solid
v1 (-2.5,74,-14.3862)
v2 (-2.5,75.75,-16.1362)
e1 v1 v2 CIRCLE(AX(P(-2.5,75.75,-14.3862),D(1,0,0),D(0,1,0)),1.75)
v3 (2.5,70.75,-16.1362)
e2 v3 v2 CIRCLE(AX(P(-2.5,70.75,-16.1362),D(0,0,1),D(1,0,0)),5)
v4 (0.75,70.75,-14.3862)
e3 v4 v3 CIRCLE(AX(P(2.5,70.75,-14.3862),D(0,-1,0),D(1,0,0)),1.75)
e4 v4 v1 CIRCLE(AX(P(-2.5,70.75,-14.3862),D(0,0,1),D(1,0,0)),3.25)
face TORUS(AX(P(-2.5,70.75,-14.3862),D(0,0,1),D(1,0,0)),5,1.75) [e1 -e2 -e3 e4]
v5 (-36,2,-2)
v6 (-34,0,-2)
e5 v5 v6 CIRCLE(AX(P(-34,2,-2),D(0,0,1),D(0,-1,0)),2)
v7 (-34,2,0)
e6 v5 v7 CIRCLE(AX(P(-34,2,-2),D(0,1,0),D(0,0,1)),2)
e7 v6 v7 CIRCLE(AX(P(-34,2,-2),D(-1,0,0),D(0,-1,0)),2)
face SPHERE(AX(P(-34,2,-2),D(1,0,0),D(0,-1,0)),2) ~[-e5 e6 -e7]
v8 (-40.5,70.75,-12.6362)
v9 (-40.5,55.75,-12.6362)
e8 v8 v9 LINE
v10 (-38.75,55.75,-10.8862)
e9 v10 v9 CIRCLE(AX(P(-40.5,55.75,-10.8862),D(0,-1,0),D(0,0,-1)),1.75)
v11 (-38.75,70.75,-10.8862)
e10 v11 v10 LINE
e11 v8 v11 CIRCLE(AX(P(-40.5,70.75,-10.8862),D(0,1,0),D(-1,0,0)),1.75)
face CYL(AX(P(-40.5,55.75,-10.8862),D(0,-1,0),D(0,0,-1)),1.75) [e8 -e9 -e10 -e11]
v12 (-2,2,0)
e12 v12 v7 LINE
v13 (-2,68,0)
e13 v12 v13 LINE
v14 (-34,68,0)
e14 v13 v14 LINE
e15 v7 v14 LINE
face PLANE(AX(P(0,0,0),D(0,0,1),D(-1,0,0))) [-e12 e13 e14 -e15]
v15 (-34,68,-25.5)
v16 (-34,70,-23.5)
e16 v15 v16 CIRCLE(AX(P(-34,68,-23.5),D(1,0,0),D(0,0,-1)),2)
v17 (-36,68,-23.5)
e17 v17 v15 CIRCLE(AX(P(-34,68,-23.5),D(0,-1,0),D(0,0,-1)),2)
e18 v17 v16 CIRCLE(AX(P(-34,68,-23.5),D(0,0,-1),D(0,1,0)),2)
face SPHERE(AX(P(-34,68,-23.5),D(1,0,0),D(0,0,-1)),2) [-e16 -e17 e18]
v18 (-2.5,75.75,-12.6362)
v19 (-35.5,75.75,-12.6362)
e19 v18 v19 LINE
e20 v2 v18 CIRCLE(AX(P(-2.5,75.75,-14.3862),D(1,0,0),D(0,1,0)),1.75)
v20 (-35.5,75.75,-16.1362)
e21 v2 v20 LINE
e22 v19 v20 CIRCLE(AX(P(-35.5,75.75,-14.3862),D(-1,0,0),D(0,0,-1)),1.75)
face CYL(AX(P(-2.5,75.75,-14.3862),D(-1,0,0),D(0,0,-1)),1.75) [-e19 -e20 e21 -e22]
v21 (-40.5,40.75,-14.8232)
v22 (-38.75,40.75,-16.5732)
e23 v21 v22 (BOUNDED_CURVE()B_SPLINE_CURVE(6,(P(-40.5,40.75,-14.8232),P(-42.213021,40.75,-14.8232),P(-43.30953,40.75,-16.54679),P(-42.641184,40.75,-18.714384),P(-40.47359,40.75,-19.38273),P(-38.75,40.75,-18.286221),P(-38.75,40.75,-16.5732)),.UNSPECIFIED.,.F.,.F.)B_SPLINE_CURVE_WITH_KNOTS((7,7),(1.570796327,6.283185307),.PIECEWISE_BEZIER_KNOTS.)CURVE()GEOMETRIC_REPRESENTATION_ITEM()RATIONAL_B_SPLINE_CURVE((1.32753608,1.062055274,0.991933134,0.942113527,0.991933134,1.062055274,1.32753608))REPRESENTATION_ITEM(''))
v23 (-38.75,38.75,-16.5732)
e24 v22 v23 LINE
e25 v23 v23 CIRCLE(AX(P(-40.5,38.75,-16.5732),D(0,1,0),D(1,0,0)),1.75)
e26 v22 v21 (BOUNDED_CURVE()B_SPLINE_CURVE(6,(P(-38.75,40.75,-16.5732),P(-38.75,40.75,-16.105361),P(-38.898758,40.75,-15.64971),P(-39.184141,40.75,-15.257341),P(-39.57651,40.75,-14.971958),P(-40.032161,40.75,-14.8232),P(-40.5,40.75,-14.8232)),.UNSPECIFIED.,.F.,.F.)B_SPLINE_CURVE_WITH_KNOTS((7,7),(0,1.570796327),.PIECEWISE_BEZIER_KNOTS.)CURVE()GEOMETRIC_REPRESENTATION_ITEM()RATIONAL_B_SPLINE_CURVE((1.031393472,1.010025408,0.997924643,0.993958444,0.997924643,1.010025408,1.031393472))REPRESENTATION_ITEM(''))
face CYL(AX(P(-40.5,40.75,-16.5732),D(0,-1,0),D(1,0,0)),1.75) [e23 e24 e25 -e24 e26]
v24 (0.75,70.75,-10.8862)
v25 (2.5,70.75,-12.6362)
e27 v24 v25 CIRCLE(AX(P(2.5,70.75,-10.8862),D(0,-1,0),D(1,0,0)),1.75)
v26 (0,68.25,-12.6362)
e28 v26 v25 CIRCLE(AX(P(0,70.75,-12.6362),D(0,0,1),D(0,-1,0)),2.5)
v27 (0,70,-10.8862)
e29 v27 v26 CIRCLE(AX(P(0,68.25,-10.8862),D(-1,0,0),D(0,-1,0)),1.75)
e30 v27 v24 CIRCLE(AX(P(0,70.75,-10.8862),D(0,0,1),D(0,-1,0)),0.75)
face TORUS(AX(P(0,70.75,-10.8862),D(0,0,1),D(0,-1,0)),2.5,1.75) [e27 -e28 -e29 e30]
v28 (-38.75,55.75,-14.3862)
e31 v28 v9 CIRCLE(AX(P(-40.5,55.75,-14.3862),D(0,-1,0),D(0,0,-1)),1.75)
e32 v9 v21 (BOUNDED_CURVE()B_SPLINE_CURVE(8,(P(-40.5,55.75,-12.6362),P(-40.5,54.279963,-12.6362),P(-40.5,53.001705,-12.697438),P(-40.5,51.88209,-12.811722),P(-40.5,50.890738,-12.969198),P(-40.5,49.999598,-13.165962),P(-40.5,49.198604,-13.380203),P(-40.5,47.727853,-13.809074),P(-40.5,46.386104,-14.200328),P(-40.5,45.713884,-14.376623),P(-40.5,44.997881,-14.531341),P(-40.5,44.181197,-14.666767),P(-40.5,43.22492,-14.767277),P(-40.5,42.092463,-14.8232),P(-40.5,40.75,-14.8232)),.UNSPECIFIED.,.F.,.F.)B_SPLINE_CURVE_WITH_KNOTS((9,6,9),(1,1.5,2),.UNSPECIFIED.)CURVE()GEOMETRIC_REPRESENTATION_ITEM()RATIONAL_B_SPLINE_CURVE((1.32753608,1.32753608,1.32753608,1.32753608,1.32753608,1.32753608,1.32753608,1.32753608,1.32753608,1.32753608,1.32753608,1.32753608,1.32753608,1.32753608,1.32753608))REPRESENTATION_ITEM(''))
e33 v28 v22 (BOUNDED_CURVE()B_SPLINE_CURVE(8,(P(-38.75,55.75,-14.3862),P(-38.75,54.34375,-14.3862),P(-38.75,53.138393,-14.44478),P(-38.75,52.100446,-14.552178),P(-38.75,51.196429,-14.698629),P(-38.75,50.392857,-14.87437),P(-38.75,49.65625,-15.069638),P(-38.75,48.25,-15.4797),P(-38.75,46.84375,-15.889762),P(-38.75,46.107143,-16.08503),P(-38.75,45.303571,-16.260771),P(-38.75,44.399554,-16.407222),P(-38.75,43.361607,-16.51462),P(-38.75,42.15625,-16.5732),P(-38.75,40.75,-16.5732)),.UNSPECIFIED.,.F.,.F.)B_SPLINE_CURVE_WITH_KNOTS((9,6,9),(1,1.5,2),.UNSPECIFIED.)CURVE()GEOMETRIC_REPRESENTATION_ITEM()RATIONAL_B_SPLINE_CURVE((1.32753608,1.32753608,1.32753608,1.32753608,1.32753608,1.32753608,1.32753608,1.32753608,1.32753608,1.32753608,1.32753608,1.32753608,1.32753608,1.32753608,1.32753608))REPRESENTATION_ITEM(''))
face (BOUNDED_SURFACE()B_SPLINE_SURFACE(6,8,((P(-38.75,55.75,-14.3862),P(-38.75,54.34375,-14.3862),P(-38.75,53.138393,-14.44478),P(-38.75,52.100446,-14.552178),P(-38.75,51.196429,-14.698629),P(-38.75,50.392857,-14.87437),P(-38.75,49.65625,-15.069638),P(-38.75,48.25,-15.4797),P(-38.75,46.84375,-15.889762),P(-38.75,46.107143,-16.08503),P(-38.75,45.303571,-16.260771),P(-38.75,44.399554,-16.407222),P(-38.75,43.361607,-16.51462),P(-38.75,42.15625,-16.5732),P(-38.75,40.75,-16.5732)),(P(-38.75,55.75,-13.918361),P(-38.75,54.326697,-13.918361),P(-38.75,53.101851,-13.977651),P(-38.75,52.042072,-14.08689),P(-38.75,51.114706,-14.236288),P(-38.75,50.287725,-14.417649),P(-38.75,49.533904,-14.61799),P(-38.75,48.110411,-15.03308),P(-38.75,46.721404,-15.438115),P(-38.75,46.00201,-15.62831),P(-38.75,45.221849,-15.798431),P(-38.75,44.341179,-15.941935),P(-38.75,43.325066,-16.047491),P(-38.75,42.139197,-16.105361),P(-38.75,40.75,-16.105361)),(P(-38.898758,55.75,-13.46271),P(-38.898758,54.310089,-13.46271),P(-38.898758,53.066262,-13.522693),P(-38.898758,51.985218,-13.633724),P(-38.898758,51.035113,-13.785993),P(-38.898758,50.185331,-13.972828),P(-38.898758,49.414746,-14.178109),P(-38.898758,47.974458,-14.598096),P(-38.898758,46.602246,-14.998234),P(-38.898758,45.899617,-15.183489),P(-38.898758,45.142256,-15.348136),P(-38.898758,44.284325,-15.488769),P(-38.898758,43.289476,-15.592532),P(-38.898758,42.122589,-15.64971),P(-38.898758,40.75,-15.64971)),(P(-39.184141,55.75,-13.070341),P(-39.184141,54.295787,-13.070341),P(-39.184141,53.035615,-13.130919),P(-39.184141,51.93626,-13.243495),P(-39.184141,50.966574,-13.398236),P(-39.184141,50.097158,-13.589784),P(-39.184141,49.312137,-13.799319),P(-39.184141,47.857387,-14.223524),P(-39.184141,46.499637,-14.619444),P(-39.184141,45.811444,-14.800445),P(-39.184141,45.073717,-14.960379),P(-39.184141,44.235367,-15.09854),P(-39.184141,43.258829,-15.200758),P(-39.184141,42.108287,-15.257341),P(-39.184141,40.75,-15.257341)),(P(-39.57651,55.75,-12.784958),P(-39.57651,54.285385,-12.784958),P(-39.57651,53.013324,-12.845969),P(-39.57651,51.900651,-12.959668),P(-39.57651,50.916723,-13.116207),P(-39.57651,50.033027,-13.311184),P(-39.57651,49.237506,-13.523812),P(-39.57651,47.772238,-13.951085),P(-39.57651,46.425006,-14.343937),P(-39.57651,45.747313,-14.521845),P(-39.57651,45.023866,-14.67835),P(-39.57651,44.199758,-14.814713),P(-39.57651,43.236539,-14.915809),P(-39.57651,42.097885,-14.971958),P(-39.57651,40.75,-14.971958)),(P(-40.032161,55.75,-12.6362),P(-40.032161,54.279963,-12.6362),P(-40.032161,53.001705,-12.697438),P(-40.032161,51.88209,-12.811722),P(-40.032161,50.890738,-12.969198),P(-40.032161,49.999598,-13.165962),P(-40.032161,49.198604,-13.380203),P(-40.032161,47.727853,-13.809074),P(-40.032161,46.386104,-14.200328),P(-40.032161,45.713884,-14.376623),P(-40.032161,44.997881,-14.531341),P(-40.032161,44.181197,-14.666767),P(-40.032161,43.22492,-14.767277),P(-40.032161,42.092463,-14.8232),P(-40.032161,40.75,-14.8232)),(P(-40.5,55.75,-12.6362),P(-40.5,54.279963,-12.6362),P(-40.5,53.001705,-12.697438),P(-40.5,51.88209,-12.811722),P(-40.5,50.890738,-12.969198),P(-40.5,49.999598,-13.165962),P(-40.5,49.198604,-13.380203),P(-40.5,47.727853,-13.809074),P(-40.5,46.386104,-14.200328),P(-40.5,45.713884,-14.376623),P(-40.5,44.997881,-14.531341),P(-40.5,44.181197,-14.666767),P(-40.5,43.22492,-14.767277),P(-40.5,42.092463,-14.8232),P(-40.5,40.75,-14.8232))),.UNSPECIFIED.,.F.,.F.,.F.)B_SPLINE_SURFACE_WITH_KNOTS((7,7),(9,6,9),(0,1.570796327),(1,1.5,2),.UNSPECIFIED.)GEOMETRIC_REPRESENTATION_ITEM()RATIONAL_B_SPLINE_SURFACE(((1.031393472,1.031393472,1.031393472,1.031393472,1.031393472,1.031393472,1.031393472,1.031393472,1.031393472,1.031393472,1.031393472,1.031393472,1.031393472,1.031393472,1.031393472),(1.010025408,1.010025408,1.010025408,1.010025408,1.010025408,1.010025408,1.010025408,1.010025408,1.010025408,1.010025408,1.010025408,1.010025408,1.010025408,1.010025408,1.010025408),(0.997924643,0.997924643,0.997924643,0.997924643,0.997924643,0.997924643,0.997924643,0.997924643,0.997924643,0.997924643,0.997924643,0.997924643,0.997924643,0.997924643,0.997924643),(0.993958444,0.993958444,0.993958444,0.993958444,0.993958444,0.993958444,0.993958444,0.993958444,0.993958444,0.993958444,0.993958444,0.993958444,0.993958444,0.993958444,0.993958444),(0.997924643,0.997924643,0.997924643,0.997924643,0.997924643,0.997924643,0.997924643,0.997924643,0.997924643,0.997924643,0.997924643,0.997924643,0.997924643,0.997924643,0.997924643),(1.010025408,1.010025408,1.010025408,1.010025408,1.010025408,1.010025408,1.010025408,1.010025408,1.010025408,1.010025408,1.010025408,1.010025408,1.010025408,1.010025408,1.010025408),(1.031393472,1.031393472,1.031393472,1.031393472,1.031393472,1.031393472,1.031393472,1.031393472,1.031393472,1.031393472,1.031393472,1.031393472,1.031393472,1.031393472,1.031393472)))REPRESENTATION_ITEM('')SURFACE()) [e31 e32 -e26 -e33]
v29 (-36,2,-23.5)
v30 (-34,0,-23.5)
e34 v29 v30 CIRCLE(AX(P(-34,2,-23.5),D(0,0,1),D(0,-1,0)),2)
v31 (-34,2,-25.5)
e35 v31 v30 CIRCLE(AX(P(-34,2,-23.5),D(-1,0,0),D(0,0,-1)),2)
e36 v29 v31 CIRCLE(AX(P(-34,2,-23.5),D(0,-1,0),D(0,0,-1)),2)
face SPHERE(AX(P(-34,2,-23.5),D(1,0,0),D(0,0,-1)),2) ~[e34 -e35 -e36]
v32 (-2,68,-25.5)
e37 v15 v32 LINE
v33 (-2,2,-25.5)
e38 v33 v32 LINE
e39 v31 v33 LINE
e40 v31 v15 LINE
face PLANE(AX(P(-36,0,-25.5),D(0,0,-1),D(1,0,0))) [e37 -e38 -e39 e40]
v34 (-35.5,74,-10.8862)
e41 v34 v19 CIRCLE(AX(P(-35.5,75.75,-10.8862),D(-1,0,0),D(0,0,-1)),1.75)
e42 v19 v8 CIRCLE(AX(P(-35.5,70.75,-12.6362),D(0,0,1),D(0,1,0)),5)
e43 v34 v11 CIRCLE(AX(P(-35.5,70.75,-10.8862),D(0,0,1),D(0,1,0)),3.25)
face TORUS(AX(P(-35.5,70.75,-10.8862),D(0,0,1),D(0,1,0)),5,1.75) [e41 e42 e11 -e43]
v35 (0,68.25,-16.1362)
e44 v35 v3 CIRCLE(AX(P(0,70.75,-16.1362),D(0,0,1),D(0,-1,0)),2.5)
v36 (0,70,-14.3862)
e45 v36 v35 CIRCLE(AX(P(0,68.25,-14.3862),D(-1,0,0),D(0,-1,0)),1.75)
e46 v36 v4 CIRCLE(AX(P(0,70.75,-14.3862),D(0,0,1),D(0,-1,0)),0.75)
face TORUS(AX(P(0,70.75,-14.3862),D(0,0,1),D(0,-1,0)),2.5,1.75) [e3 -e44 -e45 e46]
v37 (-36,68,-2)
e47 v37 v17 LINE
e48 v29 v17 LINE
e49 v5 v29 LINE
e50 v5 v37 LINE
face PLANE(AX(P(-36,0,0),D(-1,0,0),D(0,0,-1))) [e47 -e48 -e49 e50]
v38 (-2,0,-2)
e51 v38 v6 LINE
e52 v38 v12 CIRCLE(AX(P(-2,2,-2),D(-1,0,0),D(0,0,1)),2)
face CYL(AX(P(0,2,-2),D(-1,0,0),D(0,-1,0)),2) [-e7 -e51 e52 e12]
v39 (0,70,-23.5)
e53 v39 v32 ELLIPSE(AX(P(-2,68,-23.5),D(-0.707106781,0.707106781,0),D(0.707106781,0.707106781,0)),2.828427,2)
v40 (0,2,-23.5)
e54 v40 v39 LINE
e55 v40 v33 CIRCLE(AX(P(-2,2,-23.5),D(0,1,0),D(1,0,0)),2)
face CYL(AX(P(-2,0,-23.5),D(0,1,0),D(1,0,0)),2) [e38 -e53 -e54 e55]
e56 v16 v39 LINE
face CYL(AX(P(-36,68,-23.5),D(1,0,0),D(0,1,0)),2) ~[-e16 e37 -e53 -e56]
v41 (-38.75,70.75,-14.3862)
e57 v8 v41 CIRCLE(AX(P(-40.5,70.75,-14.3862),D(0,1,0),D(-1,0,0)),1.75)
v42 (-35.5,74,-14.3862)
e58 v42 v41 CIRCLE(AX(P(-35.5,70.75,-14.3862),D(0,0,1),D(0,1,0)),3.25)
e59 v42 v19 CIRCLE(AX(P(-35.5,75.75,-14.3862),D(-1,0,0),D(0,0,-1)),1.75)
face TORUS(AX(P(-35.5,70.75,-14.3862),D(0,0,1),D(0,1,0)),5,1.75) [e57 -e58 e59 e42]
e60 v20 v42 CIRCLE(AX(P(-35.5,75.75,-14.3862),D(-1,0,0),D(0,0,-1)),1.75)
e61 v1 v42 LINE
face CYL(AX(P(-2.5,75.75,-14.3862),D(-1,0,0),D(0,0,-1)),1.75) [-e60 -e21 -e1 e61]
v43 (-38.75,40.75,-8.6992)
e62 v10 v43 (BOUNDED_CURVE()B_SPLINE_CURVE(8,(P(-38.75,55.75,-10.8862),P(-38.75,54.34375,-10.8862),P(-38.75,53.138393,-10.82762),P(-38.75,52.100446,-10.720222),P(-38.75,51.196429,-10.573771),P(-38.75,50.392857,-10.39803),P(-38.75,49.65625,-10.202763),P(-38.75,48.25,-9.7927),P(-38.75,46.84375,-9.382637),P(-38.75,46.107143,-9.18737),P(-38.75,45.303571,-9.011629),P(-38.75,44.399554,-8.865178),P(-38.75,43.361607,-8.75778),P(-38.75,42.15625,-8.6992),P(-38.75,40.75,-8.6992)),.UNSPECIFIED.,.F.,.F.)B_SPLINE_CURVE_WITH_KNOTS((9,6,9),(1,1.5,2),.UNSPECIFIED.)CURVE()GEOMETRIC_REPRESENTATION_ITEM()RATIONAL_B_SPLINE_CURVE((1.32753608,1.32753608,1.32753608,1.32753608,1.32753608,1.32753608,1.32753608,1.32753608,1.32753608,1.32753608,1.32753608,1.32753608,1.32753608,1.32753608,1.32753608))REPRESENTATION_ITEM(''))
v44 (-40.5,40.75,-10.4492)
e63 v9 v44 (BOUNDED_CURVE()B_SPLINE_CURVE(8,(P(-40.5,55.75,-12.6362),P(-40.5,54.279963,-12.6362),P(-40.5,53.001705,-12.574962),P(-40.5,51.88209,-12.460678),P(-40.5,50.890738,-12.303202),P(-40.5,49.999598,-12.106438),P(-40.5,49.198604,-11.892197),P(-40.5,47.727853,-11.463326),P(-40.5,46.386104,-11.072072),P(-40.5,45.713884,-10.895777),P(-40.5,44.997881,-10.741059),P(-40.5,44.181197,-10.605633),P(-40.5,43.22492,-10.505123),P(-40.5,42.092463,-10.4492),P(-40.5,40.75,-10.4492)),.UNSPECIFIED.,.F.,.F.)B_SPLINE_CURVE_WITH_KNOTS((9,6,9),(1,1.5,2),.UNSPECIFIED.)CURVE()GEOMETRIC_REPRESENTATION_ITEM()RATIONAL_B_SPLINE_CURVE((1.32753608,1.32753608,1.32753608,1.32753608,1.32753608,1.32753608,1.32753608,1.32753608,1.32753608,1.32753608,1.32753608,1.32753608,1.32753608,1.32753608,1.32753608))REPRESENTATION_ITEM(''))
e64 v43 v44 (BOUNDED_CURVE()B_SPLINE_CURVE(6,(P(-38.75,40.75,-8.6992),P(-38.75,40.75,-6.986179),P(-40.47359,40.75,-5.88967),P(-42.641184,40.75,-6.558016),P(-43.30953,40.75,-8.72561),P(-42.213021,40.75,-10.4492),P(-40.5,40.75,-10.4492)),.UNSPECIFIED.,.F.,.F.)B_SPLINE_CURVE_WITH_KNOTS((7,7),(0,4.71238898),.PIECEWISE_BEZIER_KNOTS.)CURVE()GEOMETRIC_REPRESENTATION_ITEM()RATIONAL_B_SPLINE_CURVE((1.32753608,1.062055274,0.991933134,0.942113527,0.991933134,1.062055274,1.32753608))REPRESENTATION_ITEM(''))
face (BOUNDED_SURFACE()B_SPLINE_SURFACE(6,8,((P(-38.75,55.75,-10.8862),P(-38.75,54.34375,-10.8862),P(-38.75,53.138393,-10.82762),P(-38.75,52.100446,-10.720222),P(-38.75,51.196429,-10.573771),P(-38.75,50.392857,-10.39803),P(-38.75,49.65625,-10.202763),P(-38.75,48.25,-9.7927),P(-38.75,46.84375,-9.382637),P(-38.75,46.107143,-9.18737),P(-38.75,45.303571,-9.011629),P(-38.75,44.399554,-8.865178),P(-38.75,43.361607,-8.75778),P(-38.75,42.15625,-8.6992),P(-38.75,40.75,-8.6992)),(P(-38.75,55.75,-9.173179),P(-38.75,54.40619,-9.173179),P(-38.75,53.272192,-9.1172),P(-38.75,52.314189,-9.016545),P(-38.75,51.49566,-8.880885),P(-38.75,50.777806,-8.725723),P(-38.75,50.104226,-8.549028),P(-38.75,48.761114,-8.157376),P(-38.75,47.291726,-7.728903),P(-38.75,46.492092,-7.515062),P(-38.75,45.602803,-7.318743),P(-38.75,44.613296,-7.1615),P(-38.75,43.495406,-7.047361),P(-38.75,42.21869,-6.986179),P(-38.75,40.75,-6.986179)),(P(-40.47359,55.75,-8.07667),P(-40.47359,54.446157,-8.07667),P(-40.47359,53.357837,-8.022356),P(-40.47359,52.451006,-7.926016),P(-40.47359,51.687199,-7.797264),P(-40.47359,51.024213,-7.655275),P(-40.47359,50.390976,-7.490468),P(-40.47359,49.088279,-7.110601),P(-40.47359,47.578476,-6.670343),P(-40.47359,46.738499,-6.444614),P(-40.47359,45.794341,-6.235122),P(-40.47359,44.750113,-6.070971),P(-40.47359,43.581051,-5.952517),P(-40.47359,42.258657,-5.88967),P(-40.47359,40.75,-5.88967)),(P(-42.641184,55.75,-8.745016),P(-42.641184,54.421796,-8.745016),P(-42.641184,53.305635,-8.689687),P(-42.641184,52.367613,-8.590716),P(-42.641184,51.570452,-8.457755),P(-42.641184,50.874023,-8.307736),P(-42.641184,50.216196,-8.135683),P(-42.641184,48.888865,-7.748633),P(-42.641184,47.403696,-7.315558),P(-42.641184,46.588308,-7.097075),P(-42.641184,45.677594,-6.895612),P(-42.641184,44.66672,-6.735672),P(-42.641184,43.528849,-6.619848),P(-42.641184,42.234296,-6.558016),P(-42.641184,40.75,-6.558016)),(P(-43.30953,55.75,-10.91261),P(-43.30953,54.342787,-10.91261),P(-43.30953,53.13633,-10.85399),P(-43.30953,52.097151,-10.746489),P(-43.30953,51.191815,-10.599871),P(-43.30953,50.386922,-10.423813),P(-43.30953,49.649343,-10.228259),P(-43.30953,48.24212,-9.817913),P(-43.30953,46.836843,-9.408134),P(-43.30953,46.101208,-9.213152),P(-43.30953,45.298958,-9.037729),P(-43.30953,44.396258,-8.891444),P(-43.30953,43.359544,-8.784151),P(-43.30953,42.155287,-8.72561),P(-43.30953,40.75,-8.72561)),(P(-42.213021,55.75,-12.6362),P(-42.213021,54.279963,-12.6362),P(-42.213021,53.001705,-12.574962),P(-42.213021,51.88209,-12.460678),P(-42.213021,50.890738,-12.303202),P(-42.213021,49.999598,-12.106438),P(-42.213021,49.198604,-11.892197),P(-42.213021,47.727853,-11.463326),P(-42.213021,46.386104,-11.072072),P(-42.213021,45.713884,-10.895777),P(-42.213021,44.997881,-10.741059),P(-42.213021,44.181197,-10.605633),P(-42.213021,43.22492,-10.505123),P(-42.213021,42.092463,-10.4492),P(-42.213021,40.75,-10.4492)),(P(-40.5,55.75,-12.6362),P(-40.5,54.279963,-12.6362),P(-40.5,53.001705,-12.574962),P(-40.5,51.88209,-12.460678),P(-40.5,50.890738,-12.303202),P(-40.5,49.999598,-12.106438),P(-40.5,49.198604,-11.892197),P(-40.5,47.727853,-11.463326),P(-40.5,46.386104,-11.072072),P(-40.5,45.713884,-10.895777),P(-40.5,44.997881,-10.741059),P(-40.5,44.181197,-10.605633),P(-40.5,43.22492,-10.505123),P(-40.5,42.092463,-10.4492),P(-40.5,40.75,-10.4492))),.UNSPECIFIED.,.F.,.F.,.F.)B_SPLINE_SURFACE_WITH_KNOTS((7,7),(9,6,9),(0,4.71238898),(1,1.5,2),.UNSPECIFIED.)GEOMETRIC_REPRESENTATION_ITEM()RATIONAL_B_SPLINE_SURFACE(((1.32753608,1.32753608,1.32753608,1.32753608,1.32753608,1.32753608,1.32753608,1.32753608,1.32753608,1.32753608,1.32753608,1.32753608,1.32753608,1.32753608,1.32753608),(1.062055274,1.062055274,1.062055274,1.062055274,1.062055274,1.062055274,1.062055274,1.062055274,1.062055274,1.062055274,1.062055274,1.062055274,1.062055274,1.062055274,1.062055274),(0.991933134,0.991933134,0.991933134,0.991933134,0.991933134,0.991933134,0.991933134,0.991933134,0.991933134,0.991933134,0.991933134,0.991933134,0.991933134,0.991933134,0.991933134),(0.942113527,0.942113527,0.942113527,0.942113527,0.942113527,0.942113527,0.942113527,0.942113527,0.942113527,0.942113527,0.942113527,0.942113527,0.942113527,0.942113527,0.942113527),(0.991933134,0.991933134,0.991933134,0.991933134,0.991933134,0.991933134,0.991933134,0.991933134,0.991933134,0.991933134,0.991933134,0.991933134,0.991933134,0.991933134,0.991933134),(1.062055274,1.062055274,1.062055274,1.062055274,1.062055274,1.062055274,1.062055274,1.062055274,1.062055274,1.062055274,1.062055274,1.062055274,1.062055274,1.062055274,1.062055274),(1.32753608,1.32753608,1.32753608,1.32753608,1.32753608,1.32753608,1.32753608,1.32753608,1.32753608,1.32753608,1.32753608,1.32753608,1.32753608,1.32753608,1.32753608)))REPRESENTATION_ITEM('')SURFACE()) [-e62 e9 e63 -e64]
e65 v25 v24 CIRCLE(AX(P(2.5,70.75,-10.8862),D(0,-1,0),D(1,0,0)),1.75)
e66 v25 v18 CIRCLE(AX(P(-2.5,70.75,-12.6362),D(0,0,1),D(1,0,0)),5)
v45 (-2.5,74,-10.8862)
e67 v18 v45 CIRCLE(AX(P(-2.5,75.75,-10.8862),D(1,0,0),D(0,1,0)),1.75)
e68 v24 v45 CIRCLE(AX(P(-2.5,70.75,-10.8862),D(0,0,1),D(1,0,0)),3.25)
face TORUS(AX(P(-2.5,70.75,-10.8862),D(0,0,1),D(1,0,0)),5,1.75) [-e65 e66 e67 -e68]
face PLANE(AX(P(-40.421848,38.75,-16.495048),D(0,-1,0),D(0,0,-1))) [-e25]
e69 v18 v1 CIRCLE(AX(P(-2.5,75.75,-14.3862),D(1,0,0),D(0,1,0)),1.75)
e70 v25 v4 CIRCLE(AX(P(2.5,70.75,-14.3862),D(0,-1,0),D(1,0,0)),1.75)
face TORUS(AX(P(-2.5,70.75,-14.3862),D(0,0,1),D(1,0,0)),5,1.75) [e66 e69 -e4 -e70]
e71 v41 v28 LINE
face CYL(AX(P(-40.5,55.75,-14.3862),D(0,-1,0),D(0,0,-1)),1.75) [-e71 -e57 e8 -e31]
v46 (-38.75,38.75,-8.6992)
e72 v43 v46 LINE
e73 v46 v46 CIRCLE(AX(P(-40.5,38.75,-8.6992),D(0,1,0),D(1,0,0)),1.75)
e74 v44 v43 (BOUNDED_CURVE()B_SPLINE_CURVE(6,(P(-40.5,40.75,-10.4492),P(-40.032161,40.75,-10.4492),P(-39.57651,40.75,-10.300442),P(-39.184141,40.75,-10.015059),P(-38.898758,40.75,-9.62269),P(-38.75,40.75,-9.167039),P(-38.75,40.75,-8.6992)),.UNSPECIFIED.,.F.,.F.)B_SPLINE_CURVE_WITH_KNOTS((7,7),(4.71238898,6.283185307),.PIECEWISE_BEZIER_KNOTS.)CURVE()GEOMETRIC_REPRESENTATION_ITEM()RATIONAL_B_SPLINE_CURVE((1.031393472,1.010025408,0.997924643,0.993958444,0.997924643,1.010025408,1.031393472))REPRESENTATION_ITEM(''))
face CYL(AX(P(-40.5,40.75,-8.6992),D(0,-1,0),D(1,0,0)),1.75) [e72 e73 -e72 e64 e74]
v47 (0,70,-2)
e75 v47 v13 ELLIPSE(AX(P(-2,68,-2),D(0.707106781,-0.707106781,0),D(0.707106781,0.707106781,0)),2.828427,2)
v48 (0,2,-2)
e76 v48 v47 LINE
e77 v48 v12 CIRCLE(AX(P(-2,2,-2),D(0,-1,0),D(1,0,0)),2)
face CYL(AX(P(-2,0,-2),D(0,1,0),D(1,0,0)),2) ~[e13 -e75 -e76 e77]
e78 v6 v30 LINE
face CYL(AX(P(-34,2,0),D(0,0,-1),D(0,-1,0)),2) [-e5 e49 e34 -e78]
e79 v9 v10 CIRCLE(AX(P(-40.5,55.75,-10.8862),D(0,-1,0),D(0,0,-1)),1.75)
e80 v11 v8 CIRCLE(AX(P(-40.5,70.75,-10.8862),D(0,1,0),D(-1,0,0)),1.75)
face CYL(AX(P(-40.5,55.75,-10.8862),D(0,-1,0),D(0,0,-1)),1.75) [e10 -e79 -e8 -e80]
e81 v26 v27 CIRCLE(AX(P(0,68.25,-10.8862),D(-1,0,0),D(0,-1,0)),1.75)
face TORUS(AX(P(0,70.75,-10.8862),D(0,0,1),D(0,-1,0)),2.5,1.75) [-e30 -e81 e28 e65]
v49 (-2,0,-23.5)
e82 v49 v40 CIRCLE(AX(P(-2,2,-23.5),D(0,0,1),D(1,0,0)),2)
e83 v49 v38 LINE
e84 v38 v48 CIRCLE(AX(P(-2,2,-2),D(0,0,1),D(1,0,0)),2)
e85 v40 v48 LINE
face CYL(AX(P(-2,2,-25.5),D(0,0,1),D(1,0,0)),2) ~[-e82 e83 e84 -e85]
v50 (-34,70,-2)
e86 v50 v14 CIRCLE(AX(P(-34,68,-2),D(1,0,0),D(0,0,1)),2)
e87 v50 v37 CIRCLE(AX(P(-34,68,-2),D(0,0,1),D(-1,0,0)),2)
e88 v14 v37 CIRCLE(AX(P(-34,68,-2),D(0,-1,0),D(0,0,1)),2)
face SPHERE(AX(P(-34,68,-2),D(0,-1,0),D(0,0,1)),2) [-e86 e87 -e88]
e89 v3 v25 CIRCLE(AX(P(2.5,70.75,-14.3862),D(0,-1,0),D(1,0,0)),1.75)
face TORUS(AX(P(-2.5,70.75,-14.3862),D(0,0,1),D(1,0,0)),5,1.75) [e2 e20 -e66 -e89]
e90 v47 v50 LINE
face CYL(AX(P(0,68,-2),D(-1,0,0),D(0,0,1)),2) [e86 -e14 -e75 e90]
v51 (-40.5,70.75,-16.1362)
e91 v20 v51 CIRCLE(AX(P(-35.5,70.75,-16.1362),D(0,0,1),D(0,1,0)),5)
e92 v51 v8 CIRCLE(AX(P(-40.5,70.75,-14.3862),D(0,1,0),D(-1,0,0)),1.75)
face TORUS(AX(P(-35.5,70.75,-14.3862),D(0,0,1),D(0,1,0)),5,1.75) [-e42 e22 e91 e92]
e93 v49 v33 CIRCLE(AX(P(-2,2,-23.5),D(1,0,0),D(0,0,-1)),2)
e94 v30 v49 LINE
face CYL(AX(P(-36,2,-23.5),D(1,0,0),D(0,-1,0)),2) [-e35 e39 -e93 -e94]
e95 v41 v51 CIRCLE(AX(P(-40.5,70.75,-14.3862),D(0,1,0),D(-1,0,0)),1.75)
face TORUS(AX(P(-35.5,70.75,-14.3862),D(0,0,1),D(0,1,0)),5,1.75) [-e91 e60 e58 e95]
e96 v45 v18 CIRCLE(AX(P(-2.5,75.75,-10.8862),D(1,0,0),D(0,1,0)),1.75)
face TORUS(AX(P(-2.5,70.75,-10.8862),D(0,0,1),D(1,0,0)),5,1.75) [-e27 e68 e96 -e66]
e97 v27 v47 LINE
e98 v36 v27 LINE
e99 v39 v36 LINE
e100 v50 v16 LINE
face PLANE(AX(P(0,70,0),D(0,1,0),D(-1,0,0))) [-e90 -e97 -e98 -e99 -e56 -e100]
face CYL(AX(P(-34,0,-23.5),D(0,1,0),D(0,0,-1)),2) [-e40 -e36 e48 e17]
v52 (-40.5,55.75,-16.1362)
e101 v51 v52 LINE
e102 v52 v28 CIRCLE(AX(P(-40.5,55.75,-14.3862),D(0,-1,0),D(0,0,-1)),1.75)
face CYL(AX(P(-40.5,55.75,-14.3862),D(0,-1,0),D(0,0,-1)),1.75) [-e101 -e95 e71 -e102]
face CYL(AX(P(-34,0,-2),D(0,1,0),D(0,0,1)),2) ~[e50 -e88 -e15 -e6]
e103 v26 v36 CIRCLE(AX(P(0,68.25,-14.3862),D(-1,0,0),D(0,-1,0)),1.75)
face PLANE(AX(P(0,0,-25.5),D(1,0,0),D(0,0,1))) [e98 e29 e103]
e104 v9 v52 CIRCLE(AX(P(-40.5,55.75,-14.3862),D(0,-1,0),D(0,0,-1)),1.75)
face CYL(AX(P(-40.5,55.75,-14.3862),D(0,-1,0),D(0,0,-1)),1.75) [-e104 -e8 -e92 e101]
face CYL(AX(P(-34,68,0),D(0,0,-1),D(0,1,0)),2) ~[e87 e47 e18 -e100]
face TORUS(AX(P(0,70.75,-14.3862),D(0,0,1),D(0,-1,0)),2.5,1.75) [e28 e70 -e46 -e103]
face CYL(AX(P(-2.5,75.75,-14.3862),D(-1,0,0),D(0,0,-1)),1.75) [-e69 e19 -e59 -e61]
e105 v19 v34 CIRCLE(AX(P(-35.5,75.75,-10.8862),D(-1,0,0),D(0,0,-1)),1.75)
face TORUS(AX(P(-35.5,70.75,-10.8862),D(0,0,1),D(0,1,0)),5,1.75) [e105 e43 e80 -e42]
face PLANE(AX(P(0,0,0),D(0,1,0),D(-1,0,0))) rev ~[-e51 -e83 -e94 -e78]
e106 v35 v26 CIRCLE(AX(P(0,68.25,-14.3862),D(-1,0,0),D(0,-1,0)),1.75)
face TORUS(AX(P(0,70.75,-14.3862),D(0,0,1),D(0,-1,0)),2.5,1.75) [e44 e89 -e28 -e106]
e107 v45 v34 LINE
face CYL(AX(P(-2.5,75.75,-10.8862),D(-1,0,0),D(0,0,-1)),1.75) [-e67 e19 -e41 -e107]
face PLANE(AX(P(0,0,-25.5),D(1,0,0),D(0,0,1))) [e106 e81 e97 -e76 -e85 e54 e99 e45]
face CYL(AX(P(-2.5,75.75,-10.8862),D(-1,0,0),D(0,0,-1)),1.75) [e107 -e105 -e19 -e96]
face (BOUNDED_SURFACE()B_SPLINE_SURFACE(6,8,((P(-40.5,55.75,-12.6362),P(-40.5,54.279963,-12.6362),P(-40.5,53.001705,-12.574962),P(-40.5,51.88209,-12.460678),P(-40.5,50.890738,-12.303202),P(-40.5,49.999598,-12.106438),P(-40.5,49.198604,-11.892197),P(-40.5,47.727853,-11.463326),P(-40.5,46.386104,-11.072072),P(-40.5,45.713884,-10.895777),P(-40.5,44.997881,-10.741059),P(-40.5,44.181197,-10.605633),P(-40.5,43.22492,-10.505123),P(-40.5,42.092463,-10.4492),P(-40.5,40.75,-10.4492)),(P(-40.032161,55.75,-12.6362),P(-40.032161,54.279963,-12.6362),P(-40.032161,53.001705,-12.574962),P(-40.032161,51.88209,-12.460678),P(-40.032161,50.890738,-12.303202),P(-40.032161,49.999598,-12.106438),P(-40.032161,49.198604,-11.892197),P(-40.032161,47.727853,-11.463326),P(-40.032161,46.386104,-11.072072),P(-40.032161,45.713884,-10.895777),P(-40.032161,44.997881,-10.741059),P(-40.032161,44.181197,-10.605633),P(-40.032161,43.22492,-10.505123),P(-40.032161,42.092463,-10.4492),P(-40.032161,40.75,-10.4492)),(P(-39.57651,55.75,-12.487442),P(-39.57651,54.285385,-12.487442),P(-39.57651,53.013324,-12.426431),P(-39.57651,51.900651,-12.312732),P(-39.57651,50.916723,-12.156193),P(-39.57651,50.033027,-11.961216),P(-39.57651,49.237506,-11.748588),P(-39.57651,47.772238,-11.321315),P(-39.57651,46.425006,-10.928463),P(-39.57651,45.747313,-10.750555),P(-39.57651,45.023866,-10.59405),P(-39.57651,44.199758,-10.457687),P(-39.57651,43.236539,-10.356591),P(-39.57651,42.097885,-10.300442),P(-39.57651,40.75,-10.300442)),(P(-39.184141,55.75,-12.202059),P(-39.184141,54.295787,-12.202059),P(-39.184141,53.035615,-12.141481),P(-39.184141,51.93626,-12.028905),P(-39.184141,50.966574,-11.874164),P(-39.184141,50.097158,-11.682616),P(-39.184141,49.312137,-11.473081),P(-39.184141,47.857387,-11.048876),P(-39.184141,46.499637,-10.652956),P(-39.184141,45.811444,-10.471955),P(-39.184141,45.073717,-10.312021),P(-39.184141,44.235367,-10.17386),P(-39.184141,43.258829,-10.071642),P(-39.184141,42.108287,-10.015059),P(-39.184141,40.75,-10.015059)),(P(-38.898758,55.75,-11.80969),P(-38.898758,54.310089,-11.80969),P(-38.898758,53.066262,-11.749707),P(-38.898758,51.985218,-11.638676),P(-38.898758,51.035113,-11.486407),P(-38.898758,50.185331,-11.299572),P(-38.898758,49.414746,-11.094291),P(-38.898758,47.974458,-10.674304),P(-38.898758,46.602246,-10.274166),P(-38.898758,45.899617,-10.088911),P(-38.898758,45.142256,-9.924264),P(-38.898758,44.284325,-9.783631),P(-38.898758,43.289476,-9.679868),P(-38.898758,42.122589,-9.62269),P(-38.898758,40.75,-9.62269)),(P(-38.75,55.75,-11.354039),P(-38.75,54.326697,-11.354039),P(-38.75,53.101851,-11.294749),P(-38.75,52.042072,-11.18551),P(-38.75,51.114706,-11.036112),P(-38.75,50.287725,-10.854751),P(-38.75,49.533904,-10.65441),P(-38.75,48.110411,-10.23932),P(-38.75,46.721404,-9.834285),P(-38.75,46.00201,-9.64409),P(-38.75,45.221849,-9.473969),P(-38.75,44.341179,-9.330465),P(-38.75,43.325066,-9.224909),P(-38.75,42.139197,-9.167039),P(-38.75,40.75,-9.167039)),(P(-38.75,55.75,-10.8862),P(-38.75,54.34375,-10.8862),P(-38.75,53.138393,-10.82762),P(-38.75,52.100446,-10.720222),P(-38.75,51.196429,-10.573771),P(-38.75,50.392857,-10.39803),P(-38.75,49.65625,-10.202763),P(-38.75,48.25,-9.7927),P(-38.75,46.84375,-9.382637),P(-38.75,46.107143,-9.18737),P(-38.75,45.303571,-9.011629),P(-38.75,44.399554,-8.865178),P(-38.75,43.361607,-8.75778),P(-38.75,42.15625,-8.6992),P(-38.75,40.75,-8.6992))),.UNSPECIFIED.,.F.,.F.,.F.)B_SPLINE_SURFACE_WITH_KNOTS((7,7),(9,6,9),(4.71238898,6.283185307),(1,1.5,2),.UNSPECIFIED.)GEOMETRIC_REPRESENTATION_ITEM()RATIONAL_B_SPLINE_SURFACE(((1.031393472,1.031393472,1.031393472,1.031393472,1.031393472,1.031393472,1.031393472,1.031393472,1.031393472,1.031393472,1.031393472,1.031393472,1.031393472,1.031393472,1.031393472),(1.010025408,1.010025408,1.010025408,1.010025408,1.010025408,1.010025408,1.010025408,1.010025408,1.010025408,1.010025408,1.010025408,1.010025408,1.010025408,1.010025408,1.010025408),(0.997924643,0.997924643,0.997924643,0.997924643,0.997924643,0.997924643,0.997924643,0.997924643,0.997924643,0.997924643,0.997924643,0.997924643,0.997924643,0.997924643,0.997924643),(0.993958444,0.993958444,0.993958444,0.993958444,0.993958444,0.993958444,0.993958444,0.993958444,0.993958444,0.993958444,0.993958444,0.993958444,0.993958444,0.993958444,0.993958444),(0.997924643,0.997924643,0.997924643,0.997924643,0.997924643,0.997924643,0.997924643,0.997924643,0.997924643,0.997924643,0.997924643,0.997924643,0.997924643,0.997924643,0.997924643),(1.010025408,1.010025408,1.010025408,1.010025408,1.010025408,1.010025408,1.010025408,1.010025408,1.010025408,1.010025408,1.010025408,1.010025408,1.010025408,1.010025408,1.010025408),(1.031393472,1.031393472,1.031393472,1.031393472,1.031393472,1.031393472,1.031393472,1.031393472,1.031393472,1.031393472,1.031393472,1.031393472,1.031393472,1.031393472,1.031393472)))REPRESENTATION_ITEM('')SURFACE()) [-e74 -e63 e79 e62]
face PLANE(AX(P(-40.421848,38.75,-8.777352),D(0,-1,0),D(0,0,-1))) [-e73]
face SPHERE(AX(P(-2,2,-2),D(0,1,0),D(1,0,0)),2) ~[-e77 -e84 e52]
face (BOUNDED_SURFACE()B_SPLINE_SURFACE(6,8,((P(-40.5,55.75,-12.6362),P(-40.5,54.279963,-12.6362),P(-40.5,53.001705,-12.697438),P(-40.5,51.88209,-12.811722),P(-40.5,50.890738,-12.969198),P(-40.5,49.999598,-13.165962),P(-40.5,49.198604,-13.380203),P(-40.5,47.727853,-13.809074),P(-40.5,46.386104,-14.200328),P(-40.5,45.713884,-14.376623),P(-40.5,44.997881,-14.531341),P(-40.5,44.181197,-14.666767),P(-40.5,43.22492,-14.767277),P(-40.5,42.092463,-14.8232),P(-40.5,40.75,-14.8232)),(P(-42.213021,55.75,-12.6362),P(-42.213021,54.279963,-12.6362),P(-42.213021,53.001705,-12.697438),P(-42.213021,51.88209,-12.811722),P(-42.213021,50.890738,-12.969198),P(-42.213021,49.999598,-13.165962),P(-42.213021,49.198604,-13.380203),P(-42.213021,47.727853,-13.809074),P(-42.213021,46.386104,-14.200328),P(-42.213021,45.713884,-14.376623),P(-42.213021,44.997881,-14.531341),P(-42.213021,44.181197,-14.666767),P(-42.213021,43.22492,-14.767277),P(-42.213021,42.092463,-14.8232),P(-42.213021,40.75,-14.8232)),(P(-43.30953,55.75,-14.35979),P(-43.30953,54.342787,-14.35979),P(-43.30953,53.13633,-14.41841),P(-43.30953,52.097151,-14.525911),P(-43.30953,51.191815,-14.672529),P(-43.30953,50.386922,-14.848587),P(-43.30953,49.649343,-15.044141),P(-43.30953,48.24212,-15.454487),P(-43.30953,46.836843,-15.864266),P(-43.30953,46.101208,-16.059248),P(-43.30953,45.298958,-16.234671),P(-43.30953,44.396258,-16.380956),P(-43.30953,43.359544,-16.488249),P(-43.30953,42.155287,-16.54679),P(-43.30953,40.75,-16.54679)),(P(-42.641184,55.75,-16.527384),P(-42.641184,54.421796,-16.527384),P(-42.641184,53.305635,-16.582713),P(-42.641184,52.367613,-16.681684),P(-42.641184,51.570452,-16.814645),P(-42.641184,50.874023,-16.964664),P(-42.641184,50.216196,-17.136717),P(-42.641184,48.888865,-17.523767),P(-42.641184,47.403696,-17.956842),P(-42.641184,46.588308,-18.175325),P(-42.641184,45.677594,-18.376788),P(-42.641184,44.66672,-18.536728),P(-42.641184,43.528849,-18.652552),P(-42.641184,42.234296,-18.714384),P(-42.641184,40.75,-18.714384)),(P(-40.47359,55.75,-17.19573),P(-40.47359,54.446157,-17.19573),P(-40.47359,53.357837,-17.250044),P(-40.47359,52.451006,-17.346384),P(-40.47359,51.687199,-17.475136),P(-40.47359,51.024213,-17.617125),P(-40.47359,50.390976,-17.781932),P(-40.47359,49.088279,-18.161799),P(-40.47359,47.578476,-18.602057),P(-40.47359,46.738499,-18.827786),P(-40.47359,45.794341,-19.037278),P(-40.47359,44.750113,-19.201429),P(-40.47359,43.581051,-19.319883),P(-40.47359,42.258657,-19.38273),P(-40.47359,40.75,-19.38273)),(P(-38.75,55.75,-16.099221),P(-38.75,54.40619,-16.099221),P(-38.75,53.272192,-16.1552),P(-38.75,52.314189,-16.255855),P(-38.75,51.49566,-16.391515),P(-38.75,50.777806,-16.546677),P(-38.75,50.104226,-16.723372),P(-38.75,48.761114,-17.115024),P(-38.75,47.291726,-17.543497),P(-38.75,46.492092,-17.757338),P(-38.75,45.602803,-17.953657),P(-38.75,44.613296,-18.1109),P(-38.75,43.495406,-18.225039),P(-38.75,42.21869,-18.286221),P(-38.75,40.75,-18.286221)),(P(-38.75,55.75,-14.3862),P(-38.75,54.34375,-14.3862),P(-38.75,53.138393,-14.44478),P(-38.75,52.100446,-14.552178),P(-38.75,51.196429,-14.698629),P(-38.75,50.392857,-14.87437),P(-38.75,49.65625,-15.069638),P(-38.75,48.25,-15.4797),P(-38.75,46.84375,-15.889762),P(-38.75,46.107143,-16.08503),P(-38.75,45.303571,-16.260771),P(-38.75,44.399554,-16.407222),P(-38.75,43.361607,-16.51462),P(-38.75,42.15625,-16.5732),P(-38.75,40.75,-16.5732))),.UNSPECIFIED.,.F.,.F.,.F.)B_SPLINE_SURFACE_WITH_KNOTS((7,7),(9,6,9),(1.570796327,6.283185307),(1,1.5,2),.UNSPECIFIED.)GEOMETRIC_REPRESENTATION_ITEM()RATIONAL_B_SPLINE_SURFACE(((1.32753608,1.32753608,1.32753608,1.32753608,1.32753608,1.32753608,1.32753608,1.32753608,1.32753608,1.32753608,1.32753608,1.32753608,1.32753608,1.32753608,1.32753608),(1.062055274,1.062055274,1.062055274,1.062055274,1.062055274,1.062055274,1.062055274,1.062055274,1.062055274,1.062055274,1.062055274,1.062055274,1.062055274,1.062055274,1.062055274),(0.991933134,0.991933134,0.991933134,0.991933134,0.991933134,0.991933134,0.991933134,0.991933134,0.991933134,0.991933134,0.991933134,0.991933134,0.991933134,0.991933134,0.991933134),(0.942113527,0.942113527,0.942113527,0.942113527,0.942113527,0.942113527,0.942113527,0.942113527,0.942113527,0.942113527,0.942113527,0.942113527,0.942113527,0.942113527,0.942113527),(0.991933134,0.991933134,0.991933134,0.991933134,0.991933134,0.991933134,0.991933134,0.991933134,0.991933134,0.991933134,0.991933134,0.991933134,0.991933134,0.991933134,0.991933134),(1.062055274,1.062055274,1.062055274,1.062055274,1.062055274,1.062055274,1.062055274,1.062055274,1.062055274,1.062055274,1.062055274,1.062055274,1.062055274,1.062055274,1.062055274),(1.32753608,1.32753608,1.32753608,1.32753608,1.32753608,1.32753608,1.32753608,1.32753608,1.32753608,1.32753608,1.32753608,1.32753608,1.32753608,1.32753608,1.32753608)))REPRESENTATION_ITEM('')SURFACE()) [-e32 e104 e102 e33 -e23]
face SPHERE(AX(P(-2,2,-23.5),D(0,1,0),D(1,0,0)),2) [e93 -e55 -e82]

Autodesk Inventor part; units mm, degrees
ref_plane "YZ Plane" through (0, 0, 0) normal (1, 0, 0) x (0, 1, 0)
ref_plane "XZ Plane" through (0, 0, 0) normal (0, 1, 0) x (-1, 0, 0)
ref_plane "XY Plane" through (0, 0, 0) normal (0, 0, 1) x (1, 0, 0)
sketch "Sketch1" plane through (0, 0, 0) normal (0, 1, 0) x (-1, 0, 0)
  line L0 (0, 0) -> (36, 0)
  line L1 (36, 0) -> (36, -25.5)
  line L2 (36, -25.5) -> (0, -25.5)
  line L3 (0, -25.5) -> (0, 0)
  dimension "d0" = 36
  dimension "d1" = 25.5
extrude "Extrusion1" add sketch "Sketch1" along normal blind 70
sketch "Sketch2" plane through (0, 0, 0) normal (1, 0, 0) x (0, 0, -1)
  circle A0 centre (10.8862, 68.25) radius 1.75
  circle A1 centre (14.3862, 68.25) radius 1.75
  line L0 (0, 70) -> (25.5, 70) projected
  line L1 (10.8862, 68.25) -> (-0.2275, 68.25) construction
  line L2 (14.3862, 68.25) -> (25.5, 68.25) construction
  line L3 (25.5, 0) -> (25.5, 70) construction
  point P0 (0, 0)
  dimension "d4" = 3.5
sketch "Sketch4" plane through (-36, 0, 0) normal (0, 0, 1) x (1, 0, 0)
  line L0 (0, 70) -> (36, 70) construction
  line L1 (36, 0) -> (36, 70) construction
  arc A0 (36, 68.25) -> (38.5, 70.75) centre (36, 70.75) ccw
  line L2 (33.5, 75.75) -> (0.5, 75.75)
  arc A1 (38.5, 70.75) -> (33.5, 75.75) centre (33.5, 70.75) ccw
  line L3 (-4.5, 55.75) -> (-4.5, 70.75)
  arc A2 (0.5, 75.75) -> (-4.5, 70.75) centre (0.5, 70.75) ccw
  line L4 (0, 0) -> (0, 70) projected
  dimension "d6" = 2.5
  dimension "d7" = 5
  dimension "d8" = 1.75
  dimension "d9" = 4.5
  dimension "d10" = 15
sweep "Sweep1" add profiles "Sketch2" path "Sketch4" path curves A0 A1 L2 A2 L3 contours A0 | A1
sketch "Sketch6" plane through (-40.5, 55.75, -10.8862) normal (0, -1, 0) x (1, 0, 0)
  circle A0 centre (0, -3.5) radius 1.75 projected
  circle A1 centre (0, 0) radius 1.75 projected
  point P0 (40.5, 10.8862)
  point P1 (0, -1.75)
  point P2 (0, -1.75)
sketch "Sketch5" plane through (-36, 0, -25.5) normal (-1, 0, 0) x (0, 0, 1)
  line L0 (12.8638, 55.75) -> (16.3638, 55.75) construction
  line L1 (9.3638, 70.75) -> (12.8638, 70.75) construction
  line L2 (12.8638, 70.75) -> (12.8638, 55.75) construction
  line L3 (9.3638, 55.75) -> (12.8638, 55.75) construction
  line L4 (12.8638, 55.75) -> (12.8638, 38.2887) construction
  line L5 (14.6138, 55.75) -> (14.6138, 48.25) construction
  line L6 (14.6138, 48.25) -> (16.8008, 48.25) construction
  line L7 (16.8008, 48.25) -> (16.8008, 40.75) construction
  spline S0 degree 3 poles (14.6138, 55.75) (14.6138, 48.25) (16.8008, 48.25) (16.8008, 40.75) knots 1 1 1 1 2 2 2 2
  line L8 (16.8008, 40.75) -> (16.8008, 38.75)
  line L9 (11.1138, 55.75) -> (11.1138, 48.25) construction
  line L10 (11.1138, 48.25) -> (8.9268, 48.25) construction
  line L11 (8.9268, 48.25) -> (8.9268, 40.75) construction
  spline S1 degree 3 poles (11.1138, 55.75) (11.1138, 48.25) (8.9268, 48.25) (8.9268, 40.75) knots 1 1 1 1 2 2 2 2
  line L12 (8.9268, 40.75) -> (8.9268, 38.75)
  point P0 (25.5, 0)
  dimension "d13" = 3.937
  dimension "d14" = 15
  dimension "d15" = 2
sweep "Sweep2" add profiles "Sketch6" path "Sketch5" path curves S0 L8 contours A1
sweep "Sweep3" add profiles "Sketch6" path "Sketch5" path curves S1 L12 contours A0
fillet "Fillet1" radius 2 11 edges at (0, 35, 0) (0, 35, -25.5) (0, 0, -12.75) (-18, 0, -25.5) (-18, 0, 0) (-18, 70, -25.5) (-36, 35, -25.5) (-36, 0, -12.75) (-36, 35, 0) (-18, 70, 0) (-36, 70, -12.75)
sketch "Sketch7" plane through (-2, 2, -25.5) normal (0, 0, -1) x (-1, 0, 0)
  line L0 (28.8742, 63.6567) -> (28.8742, 4.0173) construction
  line L1 (28.8742, 4.0173) -> (3.4367, 4.0173) construction
  line L2 (3.4367, 4.0173) -> (3.4367, 63.6567) construction
  line L3 (3.4367, 63.6567) -> (28.8742, 63.6567) construction
properties part number "ElectronicsBatteryNoConnector" material "PBT Plastic"
